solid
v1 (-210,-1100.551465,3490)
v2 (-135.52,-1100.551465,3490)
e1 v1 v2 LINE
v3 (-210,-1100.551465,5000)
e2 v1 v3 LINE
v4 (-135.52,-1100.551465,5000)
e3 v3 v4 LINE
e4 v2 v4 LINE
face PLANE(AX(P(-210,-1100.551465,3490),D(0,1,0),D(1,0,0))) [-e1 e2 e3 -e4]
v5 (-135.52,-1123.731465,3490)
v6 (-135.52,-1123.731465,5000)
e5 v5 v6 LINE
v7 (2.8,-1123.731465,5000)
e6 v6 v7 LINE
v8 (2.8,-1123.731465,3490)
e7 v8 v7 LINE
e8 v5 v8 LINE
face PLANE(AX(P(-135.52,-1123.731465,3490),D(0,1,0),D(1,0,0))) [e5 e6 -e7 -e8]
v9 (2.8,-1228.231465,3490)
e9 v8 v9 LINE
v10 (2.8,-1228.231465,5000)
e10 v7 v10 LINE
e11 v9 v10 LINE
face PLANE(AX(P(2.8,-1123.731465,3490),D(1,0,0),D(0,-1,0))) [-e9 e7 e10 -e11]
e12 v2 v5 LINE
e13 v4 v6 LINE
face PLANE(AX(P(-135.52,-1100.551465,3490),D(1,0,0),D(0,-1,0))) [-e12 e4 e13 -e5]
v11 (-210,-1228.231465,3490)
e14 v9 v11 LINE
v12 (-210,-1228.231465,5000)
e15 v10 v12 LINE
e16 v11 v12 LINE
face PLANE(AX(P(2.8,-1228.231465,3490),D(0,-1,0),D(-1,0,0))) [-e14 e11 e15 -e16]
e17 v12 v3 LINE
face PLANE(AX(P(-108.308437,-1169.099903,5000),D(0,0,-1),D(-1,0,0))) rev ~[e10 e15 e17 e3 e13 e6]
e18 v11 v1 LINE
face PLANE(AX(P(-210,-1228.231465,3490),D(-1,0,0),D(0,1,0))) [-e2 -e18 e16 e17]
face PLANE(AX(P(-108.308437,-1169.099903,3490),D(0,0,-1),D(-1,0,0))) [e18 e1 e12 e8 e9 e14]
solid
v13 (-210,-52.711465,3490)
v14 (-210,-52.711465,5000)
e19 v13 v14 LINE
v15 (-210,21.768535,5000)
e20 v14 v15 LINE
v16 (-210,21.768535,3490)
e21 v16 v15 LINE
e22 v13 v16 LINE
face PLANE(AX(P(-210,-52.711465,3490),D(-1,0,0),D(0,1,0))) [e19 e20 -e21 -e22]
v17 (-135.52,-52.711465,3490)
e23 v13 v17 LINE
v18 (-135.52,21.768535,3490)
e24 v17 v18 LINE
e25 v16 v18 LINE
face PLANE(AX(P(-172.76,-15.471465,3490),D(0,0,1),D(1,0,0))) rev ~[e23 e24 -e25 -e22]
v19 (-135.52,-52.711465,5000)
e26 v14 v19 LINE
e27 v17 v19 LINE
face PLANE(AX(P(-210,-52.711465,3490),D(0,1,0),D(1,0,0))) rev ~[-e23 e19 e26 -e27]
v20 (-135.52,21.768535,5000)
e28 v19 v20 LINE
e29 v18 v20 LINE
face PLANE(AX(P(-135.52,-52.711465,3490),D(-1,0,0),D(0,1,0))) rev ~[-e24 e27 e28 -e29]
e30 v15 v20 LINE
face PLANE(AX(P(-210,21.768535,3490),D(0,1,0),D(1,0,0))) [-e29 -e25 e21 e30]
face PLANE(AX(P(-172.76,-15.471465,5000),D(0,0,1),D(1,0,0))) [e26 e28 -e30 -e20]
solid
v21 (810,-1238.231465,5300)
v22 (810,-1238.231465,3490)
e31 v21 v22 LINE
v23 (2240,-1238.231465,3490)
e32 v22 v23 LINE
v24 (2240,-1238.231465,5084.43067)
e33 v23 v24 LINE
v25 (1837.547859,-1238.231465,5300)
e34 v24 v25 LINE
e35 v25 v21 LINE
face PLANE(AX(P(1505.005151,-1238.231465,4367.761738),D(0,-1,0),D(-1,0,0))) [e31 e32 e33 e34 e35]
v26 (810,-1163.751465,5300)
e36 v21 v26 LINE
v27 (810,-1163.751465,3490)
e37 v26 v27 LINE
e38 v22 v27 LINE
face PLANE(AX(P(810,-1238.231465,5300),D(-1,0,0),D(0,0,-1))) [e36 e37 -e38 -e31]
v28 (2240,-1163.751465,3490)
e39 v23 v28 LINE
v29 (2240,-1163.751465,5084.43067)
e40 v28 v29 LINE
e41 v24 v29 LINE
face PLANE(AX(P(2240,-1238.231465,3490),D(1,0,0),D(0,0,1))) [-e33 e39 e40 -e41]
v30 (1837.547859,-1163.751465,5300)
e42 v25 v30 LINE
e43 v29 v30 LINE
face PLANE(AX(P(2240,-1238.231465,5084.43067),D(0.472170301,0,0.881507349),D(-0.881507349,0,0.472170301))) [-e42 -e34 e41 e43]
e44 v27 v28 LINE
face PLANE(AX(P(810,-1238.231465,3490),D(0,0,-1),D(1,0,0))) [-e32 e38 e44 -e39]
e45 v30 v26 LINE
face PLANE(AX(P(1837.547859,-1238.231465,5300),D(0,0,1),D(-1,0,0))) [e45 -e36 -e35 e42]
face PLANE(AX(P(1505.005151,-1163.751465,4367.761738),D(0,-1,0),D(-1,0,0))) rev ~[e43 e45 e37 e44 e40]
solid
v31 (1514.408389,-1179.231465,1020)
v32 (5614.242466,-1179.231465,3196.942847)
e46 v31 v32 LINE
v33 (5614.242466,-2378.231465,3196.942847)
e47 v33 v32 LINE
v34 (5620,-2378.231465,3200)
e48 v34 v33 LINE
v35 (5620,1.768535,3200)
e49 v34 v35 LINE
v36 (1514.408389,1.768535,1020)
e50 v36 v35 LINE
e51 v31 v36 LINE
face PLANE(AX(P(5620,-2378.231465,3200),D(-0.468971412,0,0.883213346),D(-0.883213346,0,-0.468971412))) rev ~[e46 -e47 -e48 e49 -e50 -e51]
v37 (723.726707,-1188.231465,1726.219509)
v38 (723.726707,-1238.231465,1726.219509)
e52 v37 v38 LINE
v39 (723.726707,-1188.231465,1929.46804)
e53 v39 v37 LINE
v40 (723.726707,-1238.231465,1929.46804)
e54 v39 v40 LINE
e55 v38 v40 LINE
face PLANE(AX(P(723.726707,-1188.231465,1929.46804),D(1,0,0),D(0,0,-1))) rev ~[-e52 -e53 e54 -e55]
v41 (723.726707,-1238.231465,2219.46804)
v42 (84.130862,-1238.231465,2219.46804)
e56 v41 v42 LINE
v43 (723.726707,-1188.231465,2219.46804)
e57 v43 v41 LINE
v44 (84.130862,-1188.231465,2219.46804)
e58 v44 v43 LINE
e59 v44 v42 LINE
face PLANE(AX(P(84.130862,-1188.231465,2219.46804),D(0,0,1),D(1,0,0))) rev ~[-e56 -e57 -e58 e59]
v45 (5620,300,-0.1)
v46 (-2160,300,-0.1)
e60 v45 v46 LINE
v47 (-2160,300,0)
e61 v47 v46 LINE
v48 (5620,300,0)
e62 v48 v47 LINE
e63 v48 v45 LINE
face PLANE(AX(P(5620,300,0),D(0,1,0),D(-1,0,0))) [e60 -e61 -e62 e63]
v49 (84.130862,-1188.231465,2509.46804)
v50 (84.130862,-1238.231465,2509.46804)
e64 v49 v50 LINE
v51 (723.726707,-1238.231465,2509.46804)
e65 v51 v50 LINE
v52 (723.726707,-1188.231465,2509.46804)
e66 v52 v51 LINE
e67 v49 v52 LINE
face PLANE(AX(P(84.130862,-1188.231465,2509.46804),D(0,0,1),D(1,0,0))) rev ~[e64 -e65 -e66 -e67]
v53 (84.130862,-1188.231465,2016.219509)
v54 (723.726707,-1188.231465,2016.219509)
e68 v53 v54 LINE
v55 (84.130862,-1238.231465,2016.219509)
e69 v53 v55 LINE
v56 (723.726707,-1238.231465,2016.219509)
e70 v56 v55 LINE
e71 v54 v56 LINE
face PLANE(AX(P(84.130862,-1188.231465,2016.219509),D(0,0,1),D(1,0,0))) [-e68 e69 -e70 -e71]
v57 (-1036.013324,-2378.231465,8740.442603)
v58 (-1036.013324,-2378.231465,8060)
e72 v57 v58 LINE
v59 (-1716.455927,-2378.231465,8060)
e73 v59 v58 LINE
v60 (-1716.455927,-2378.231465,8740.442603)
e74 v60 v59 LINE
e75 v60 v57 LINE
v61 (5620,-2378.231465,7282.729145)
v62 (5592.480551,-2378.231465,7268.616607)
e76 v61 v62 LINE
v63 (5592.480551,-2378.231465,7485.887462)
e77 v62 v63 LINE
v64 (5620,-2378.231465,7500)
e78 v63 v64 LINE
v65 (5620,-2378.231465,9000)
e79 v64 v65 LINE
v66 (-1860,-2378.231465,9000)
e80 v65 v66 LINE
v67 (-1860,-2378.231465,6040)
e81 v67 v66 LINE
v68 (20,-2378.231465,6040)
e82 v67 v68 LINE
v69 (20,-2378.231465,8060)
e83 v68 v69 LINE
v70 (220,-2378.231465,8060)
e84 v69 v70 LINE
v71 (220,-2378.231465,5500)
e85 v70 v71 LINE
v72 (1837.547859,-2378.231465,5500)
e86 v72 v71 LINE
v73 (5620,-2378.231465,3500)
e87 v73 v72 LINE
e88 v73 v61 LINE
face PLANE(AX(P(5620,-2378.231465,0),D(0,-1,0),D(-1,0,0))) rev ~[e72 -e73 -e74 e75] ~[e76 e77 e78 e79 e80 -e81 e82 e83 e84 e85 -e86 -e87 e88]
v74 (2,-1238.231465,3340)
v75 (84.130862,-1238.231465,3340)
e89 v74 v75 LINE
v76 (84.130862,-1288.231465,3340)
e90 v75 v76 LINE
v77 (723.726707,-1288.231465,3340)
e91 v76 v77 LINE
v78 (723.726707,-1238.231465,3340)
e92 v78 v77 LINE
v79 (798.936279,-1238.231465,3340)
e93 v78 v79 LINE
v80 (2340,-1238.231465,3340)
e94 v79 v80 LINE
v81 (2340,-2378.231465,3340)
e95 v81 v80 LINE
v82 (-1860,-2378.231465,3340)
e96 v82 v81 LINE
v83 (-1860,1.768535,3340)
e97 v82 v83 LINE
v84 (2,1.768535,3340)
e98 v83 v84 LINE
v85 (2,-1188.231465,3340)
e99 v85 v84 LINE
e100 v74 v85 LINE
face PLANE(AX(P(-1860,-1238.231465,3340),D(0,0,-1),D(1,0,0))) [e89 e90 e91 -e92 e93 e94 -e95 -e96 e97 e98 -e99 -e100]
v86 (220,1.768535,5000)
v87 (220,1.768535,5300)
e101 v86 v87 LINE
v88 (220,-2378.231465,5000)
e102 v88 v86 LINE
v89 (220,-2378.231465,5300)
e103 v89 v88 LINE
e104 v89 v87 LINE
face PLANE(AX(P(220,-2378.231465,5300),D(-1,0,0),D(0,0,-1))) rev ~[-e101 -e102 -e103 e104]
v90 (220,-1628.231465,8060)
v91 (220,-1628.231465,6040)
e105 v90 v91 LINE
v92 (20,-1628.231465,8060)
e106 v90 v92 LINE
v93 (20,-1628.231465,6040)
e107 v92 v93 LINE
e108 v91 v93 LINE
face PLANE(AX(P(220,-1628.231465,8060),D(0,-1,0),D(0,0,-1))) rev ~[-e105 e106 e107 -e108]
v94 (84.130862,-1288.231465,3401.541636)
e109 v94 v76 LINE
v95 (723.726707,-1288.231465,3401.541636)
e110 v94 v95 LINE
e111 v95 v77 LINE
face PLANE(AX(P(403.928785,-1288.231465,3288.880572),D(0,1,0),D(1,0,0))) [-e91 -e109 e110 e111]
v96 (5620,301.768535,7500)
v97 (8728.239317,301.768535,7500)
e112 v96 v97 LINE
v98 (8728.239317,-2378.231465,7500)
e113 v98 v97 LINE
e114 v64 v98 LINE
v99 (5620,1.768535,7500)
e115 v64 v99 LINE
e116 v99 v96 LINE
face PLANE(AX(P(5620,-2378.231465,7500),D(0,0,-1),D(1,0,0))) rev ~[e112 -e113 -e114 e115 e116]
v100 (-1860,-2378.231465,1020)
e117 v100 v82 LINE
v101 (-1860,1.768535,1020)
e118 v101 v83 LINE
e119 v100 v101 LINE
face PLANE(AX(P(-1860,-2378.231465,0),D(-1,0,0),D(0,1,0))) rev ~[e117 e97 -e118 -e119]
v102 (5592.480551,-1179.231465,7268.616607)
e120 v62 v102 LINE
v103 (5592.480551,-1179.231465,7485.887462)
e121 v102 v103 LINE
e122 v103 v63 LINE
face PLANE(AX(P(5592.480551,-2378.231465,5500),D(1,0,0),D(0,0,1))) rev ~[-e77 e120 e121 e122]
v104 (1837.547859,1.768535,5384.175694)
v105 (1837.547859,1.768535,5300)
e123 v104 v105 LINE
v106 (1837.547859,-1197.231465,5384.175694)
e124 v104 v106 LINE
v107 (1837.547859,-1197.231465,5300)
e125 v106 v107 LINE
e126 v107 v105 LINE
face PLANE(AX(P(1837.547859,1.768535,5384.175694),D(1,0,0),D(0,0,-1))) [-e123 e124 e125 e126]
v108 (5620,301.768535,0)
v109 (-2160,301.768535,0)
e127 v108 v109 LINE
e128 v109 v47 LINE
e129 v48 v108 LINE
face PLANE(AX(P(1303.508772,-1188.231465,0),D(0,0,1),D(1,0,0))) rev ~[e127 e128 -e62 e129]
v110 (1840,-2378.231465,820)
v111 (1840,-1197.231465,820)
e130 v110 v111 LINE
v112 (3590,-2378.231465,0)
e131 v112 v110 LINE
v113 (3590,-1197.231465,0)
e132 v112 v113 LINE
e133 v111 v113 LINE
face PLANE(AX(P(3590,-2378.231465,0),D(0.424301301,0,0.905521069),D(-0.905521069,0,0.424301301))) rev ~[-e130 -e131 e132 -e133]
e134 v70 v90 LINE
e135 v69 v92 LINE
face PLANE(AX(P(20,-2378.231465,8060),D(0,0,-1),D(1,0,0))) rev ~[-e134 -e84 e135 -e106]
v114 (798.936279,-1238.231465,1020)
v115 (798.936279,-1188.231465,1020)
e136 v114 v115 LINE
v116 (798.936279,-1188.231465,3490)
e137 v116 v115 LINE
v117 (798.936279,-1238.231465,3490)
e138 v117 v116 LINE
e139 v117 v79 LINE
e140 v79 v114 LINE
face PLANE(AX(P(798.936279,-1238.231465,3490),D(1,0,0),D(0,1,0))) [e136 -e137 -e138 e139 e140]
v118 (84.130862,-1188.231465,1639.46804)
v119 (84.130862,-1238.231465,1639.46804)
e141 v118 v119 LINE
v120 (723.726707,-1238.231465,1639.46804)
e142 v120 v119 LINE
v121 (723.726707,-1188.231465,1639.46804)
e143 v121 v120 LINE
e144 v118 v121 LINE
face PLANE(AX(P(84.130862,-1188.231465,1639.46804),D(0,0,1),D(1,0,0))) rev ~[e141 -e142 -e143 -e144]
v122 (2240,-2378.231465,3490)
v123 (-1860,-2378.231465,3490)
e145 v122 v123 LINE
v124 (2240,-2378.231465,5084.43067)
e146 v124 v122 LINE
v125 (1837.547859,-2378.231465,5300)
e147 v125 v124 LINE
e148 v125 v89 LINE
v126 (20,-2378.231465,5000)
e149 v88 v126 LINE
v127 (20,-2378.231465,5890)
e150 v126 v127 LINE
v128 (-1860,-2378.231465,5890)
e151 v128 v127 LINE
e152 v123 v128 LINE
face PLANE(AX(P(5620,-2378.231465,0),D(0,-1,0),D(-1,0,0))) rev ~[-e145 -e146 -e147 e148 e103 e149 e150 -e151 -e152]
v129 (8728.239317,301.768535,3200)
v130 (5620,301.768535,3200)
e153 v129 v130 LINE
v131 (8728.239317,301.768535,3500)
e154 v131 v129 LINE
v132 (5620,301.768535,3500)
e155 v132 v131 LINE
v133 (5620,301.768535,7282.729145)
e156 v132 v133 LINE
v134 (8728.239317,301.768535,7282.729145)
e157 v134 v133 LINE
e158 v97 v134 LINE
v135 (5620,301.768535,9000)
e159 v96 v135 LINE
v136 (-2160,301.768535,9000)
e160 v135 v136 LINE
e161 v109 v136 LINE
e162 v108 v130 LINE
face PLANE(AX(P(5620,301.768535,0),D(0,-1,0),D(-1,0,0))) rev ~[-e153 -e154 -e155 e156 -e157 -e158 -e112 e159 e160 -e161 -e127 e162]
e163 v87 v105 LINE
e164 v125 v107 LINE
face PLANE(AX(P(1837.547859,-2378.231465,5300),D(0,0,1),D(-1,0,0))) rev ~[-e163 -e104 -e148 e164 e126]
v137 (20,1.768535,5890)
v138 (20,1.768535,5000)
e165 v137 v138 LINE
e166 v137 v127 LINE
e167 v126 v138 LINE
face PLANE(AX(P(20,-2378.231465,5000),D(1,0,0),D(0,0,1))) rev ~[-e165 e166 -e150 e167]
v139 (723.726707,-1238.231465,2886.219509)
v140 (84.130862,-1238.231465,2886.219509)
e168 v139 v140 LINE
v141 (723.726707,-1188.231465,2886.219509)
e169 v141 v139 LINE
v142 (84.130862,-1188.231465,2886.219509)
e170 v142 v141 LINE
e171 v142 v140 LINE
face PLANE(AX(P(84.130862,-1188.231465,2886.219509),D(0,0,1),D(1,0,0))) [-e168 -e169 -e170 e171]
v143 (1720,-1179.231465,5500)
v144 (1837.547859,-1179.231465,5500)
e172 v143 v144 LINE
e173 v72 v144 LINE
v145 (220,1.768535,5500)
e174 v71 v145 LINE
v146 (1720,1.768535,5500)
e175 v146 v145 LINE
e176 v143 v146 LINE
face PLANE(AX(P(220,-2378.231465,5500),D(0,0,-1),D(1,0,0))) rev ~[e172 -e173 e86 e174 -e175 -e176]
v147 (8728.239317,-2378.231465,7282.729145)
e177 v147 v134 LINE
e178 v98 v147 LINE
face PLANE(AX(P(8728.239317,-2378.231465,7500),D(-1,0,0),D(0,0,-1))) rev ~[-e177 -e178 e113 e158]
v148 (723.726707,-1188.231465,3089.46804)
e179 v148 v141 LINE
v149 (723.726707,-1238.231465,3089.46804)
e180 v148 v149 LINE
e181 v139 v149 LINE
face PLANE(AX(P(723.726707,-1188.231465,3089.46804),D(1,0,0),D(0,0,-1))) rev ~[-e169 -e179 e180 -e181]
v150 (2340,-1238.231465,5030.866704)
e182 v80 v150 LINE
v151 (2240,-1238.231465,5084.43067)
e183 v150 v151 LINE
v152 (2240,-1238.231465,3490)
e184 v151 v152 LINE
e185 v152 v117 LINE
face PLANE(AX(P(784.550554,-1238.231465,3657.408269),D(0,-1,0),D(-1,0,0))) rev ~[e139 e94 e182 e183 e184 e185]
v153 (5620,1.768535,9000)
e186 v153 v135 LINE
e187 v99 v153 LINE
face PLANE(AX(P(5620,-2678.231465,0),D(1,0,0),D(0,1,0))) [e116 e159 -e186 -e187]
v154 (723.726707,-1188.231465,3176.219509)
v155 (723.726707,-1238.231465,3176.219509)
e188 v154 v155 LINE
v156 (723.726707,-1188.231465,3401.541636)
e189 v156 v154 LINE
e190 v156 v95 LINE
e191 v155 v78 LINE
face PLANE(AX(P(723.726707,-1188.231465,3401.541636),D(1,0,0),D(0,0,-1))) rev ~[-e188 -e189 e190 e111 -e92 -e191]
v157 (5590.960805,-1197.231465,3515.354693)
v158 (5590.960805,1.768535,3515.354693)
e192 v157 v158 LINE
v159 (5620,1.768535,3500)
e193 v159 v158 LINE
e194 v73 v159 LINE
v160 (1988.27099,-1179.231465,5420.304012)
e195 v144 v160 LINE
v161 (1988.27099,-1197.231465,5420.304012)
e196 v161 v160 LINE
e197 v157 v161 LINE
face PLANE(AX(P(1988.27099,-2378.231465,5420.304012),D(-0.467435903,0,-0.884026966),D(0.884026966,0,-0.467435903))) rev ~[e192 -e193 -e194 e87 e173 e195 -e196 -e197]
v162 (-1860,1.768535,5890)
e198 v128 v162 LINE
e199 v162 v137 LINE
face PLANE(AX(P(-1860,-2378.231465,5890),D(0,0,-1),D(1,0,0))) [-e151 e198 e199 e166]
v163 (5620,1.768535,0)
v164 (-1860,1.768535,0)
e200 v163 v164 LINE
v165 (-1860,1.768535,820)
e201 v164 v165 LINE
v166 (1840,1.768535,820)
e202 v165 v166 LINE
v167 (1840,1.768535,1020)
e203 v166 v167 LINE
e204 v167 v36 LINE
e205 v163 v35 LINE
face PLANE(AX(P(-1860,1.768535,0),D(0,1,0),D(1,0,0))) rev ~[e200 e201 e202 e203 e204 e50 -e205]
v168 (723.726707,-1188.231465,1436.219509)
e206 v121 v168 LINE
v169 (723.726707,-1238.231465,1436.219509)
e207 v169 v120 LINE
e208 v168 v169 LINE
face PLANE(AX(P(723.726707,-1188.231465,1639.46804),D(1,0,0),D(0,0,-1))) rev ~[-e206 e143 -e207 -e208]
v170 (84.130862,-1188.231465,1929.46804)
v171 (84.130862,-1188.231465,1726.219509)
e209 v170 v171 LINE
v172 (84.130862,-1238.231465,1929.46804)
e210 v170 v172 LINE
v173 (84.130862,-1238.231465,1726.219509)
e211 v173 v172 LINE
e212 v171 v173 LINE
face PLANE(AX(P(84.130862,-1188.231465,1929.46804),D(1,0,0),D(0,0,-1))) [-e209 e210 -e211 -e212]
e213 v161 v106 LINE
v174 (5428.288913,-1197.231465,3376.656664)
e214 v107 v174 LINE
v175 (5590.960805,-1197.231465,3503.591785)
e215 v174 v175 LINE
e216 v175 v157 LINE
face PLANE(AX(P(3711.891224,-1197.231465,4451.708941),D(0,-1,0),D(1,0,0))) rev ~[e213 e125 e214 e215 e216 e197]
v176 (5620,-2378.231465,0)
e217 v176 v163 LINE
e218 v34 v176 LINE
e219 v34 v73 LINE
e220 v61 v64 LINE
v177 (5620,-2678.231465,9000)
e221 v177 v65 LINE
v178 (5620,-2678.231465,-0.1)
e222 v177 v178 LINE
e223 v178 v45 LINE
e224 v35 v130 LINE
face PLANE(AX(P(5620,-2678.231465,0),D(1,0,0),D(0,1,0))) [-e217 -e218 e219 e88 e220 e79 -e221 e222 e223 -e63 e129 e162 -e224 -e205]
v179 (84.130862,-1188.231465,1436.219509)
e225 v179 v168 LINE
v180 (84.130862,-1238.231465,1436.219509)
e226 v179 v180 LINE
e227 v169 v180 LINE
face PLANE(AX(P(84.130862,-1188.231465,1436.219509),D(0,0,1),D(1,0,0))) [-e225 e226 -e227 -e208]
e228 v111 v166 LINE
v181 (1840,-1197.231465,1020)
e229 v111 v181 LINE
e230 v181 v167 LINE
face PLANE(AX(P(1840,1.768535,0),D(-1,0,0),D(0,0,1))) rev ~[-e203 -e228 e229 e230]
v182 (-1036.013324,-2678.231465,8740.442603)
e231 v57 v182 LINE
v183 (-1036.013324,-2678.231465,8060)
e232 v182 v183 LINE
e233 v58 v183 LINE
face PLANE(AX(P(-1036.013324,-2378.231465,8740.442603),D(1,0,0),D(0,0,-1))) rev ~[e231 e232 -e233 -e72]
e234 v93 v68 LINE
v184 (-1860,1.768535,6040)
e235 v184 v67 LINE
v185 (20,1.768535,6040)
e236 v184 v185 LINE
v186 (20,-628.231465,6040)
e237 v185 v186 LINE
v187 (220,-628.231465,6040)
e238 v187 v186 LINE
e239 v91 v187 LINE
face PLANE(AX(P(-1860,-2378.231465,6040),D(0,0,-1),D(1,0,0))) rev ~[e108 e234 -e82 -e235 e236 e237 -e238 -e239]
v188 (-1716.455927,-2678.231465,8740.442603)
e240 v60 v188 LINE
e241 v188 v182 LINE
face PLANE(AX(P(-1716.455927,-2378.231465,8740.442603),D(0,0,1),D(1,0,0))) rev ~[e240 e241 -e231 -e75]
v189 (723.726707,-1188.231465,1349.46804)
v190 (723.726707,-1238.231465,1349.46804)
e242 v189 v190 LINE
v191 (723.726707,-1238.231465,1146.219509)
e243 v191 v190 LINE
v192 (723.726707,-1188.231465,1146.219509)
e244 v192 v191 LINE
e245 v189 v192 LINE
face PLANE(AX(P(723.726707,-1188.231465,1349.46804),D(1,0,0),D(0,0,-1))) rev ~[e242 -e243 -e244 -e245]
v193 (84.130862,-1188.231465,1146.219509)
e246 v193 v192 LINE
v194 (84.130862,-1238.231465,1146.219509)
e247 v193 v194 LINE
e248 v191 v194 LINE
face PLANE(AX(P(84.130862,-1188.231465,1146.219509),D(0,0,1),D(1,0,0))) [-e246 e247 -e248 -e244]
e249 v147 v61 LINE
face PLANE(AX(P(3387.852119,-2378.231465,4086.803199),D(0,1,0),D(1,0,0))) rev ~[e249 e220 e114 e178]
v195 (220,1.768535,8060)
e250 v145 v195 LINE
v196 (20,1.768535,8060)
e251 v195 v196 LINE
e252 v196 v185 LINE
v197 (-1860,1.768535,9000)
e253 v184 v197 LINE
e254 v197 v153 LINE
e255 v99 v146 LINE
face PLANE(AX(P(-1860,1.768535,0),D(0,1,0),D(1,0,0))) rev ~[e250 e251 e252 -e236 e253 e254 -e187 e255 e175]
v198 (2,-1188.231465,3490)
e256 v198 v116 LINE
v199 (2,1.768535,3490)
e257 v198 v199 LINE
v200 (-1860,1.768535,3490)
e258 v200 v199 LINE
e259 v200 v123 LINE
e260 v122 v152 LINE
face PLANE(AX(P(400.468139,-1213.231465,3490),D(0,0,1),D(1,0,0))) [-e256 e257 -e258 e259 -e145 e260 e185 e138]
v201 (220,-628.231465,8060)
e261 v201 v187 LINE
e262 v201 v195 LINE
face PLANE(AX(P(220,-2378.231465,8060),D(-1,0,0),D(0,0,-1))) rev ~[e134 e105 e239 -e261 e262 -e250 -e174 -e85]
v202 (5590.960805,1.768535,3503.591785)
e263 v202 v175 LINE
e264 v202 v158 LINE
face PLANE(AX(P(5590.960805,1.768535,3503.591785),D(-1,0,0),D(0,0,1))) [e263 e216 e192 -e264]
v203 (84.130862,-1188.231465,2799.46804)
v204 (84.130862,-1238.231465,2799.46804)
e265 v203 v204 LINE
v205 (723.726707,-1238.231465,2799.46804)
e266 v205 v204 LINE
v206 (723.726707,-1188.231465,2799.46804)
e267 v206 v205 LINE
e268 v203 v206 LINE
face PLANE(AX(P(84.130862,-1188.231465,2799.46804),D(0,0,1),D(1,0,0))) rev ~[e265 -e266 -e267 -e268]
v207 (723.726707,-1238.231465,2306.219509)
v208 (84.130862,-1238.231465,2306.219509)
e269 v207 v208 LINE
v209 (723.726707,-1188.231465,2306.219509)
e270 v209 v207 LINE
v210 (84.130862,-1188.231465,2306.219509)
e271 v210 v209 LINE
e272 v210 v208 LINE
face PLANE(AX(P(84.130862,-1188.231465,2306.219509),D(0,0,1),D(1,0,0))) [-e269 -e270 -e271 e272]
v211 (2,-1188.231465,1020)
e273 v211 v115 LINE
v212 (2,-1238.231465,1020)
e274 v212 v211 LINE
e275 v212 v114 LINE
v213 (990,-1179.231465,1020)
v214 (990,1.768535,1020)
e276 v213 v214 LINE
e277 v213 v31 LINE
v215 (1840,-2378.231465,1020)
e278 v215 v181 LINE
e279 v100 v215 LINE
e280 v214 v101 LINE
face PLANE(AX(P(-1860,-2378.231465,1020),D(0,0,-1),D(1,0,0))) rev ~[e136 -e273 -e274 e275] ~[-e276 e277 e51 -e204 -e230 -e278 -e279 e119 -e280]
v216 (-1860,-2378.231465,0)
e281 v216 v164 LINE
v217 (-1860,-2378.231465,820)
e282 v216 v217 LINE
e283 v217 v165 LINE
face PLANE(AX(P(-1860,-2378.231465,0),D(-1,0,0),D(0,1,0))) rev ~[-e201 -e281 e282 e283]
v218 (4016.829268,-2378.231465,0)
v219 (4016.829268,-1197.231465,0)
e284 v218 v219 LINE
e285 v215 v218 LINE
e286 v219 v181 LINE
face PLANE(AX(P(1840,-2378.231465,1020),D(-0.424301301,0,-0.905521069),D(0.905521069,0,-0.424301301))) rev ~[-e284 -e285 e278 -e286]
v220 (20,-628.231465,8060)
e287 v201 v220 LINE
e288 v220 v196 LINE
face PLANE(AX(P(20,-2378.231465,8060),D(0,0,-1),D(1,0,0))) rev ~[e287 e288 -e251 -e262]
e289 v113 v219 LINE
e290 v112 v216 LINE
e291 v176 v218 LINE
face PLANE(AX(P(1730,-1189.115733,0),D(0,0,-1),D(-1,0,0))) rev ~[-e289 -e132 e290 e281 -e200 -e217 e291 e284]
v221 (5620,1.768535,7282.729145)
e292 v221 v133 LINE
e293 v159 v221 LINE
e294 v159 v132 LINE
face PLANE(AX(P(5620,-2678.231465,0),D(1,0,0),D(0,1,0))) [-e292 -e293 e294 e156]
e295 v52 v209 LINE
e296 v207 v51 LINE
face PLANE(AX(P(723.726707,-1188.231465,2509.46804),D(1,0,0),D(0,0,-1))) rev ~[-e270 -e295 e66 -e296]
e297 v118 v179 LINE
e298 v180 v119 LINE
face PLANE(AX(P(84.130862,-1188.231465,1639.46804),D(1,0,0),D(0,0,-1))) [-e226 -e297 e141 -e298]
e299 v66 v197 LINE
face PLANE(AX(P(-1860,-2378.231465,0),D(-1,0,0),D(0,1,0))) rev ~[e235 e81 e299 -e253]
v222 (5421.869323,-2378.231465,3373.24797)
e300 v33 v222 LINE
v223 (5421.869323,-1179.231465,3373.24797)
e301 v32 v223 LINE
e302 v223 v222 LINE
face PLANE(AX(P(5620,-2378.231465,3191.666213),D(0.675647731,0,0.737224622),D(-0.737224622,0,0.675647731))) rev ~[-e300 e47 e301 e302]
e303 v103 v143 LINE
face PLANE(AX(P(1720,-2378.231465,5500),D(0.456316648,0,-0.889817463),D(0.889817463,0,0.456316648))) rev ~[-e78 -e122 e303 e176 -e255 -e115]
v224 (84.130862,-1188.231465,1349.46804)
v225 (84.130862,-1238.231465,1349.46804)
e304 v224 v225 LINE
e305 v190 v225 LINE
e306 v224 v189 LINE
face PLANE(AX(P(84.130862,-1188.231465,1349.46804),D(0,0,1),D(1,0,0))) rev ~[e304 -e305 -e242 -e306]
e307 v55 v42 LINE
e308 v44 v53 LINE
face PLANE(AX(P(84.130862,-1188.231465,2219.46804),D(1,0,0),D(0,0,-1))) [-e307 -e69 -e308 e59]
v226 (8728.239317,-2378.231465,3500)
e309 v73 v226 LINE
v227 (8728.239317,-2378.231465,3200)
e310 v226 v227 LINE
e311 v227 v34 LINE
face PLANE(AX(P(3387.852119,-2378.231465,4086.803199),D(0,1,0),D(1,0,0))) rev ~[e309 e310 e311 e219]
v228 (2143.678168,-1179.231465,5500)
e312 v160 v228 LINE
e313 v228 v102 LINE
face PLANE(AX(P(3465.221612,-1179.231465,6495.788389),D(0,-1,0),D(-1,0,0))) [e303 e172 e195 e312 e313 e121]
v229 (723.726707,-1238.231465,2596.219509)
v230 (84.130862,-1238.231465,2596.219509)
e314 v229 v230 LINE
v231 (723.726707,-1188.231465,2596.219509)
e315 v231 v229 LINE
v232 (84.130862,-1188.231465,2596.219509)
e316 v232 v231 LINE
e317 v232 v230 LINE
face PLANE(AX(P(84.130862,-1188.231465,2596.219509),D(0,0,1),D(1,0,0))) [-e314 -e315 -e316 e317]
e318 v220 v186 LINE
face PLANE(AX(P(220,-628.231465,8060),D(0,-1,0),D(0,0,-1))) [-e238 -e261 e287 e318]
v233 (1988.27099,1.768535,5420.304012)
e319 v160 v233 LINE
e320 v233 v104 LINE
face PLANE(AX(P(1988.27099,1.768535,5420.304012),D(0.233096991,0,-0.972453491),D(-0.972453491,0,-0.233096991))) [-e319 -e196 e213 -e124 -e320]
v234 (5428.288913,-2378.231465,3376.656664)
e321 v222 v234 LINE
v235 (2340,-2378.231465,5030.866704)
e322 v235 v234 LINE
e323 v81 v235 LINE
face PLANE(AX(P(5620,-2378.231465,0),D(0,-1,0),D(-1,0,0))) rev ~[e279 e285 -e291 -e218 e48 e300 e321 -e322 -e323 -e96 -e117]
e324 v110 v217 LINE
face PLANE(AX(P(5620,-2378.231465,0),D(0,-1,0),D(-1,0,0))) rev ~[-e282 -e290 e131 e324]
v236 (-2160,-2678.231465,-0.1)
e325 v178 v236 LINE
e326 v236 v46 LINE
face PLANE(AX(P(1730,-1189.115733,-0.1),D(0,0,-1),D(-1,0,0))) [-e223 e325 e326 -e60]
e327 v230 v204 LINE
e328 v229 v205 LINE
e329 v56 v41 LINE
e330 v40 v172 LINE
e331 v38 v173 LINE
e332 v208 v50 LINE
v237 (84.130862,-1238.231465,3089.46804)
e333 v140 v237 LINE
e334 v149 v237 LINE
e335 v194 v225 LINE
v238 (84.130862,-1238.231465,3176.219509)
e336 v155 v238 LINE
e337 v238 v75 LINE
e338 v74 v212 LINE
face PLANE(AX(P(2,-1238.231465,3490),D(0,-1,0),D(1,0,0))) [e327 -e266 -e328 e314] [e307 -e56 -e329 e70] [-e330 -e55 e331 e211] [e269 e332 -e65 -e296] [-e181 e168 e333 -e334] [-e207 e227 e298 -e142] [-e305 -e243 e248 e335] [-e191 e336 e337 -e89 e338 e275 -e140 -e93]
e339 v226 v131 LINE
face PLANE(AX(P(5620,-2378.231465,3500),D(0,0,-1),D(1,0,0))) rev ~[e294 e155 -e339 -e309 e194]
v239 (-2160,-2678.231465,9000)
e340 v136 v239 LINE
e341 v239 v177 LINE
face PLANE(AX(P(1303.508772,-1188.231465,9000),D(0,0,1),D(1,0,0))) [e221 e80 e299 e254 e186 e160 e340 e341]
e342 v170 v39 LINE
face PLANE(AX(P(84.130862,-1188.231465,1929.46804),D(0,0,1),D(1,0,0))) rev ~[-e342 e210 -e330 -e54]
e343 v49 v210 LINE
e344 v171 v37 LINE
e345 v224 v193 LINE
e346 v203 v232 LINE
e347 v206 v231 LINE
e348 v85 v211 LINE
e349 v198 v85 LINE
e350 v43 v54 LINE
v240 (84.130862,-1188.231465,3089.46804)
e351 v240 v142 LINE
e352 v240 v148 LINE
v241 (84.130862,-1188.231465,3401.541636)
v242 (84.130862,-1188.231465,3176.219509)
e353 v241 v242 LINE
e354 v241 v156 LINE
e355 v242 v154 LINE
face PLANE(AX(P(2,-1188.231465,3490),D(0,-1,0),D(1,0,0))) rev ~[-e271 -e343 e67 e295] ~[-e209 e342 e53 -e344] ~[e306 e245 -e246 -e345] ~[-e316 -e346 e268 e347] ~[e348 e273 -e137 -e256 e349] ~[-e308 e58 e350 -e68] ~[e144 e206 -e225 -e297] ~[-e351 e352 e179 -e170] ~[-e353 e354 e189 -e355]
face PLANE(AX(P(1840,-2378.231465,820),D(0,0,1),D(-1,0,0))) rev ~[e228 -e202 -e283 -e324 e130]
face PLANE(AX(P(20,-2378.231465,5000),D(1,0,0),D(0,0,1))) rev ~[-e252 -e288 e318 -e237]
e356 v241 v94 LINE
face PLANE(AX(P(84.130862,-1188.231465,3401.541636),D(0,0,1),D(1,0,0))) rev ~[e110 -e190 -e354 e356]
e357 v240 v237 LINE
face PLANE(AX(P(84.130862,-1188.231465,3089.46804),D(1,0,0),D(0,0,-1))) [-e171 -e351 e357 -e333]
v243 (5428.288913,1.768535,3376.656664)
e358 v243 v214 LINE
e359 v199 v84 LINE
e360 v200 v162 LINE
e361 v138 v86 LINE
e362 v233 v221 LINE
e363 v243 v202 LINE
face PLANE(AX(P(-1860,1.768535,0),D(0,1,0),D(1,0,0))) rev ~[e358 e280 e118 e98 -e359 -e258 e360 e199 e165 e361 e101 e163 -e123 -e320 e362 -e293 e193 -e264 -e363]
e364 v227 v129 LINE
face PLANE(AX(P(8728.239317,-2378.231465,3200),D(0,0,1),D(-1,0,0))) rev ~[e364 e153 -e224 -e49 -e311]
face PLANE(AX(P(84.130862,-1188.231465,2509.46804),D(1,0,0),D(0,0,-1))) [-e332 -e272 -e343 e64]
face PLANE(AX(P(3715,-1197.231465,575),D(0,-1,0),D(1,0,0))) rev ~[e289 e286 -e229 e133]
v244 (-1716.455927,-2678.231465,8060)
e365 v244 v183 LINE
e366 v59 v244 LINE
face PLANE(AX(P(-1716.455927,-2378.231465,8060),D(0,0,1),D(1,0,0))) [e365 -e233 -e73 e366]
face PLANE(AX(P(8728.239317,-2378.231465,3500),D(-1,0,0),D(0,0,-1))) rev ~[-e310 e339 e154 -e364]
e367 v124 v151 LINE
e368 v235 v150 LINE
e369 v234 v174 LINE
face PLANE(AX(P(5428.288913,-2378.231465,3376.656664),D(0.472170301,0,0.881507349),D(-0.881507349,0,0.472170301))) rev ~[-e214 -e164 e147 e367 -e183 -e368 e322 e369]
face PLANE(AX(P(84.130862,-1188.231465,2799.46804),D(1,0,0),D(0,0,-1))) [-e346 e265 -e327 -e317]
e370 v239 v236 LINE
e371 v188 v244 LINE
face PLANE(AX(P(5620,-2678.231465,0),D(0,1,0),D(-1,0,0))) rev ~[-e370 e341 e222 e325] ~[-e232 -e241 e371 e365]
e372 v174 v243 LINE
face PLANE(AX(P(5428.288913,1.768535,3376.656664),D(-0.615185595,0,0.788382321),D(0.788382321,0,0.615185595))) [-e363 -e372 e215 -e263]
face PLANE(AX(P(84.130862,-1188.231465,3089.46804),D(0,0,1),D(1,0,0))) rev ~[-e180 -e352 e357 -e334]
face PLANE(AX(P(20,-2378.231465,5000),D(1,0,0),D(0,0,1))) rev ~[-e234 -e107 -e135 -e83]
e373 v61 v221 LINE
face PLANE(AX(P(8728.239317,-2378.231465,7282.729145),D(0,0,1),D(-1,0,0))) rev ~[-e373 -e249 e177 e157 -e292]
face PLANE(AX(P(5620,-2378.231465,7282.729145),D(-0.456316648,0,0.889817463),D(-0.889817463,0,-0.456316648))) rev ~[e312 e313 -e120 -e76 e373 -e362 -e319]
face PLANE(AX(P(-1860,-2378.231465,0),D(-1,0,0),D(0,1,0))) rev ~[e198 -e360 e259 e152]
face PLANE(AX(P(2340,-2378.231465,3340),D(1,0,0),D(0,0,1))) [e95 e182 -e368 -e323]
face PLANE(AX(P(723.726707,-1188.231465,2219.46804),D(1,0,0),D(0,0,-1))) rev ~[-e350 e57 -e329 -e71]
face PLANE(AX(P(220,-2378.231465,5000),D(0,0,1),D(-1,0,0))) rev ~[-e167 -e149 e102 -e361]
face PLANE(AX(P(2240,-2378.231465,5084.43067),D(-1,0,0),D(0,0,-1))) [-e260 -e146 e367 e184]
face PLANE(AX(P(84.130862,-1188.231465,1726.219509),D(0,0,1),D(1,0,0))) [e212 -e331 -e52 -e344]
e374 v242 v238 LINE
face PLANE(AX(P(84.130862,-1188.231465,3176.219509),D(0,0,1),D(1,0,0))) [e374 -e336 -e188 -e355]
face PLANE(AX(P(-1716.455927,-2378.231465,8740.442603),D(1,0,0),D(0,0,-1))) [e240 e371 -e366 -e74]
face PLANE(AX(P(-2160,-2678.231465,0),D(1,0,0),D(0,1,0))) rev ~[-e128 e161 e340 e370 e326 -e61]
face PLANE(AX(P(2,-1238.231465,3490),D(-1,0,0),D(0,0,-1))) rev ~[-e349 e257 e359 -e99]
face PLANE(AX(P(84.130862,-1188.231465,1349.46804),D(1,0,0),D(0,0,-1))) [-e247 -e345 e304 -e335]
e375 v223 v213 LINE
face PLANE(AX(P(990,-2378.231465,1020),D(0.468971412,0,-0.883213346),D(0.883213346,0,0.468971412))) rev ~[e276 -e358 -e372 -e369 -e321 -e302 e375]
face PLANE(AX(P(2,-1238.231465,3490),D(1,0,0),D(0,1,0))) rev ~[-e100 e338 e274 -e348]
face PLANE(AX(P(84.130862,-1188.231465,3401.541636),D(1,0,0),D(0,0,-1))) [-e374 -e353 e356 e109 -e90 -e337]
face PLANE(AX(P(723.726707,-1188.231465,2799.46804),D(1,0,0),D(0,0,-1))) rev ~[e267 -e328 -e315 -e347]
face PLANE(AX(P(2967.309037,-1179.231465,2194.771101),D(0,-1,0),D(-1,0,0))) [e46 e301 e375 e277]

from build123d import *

# Parameters (mm, degrees)
BOSS_EXTRUDE1_DEPTH   = 9000
SKETCH2_W             = 7780
SKETCH2_H             = 2978.231465283
BOSS_EXTRUDE2_DEPTH   = 0.1
SKETCH4_W             = 680.442603136
SKETCH4_H             = 680.442603136
CUT_EXTRUDE1_DEPTH    = 301
BOSS_EXTRUDE3_DEPTH   = 2680
SKETCH11_W            = 3750
SKETCH11_H            = 1150
CUT_EXTRUDE10_DEPTH   = 1199
CUT_EXTRUDE16_DEPTH   = 1199
CUT_EXTRUDE19_DEPTH   = 1199
SKETCH15_W            = 1880
SKETCH15_H            = 150
BOSS_EXTRUDE4_DEPTH   = 1140
BOSS_EXTRUDE5_REACH   = 2682
SKETCH15_2_W          = 1880
SKETCH15_2_H          = 150
BOSS_EXTRUDE6_REACH   = 1542
SKETCH16_W            = 1862
SKETCH16_H            = 150
SKETCH17_W            = 796.936278508
SKETCH17_H            = 50
BOSS_EXTRUDE7_DEPTH   = 2470
SKETCH18_W            = 639.595844291
SKETCH18_H            = 225.322127185
SKETCH18_H_2          = 203.248531495
CUT_EXTRUDE21_DEPTH   = 100
SKETCH19_W            = 74.48
SKETCH19_H            = 74.48
BOSS_EXTRUDE8_DEPTH   = 1510
BOSS_EXTRUDE8_2_DEPTH = 1510
BOSS_EXTRUDE9_DEPTH   = 74.48
SKETCH22_W            = 2020
SKETCH22_H            = 1000
CUT_EXTRUDE22_DEPTH   = 597


with BuildPart() as part:
    # Sketch1 → Boss-Extrude1 (new body)
    with BuildSketch(Plane.XY):
        Polygon((5620, 1.768534717), (5620, 301.768534717), (-2160, 301.768534717), (-2160, -2678.231465283), (5620, -2678.231465283), (5620, -2378.231465283), (50, -2378.231465283), (-1860, -2378.231465283), (-1860, 1.768534717), (-250, 1.768534717), align=None)
    extrude(amount=BOSS_EXTRUDE1_DEPTH)

    # Sketch2 → Boss-Extrude2 (add)
    with BuildSketch(Plane(origin=(0, 0, 0), x_dir=(-1, 0, 0), z_dir=(0, 0, -1))):
        with Locations((-1730, -1189.115732642)):
            Rectangle(SKETCH2_W, SKETCH2_H)
    extrude(amount=BOSS_EXTRUDE2_DEPTH)

    # Sketch4 → Cut-Extrude1 (cut, through all)
    with BuildSketch(Plane(origin=(0, -2378.231465283, 0), x_dir=(1, 0, 0), z_dir=(0, 1, 0))):
        with Locations((-1376.234625342, -8400.221301568)):
            Rectangle(SKETCH4_W, SKETCH4_H)
    extrude(amount=-CUT_EXTRUDE1_DEPTH, mode=Mode.SUBTRACT)

    # Sketch4<9> → Boss-Extrude3 (add, through all)
    with BuildSketch(Plane(origin=(0, -2378.231465283, 0), x_dir=(1, 0, 0), z_dir=(0, 1, 0))):
        Polygon((-1860, -820), (-1860, -1020), (990, -1020), (5428.28891254, -3376.656663831), (1837.547859336, -5300), (220, -5300), (220, -5000), (20, -5000), (20, -8060), (220, -8060), (220, -5500), (1720, -5500), (5620, -7500), (8728.239316984, -7500), (8728.239316984, -7282.729144798), (5620, -7282.729144798), (1988.270990282, -5420.304011609), (5620, -3500), (8728.239316984, -3500), (8728.239316984, -3200), (5620, -3200), (1514.40838887, -1020), (1840, -1020), (4016.829268293, 0), (3590, 0), (1840, -820), align=None)
    extrude(amount=BOSS_EXTRUDE3_DEPTH)

    # Sketch11 → Cut-Extrude10 (cut)
    with BuildSketch(Plane.XZ.offset(-1.768534717)):
        with Locations((3715, 575)):
            Rectangle(SKETCH11_W, SKETCH11_H)
        Polygon((1837.547859336, 5300), (1837.547859336, 3630), (4743.976621723, 3630), (5428.28891254, 3376.656663831), (5590.960805155, 3503.591784624), (5590.960805155, 5232.391121441), (3118.319216172, 5232.391121441), (3118.319216172, 5420.304011609), (1988.270990282, 5420.304011609), (1837.547859336, 5384.175694281), align=None)
    extrude(amount=CUT_EXTRUDE10_DEPTH, mode=Mode.SUBTRACT)

    # Sketch13 → Cut-Extrude16 (cut)
    with BuildSketch(Plane(origin=(0, -2378.231465283, 0), x_dir=(1, 0, 0), z_dir=(0, 1, 0))):
        Polygon((357.775791901, -1020), (5620, -1020), (5620, -3191.666212547), (5403.889674001, -3389.725863798), (357.775791901, -3389.725863798), align=None)
    extrude(amount=CUT_EXTRUDE16_DEPTH, mode=Mode.SUBTRACT)

    # Sketch14 → Cut-Extrude19 (cut)
    with BuildSketch(Plane(origin=(0, -2378.231465283, 0), x_dir=(1, 0, 0), z_dir=(0, 1, 0))):
        Polygon((1347.188843085, -5500), (1837.547859336, -5500), (1988.270990282, -5420.304011609), (2143.678167645, -5500), (5592.480550887, -5500), (5592.480550887, -7500), (1347.188843085, -7500), align=None)
    extrude(amount=CUT_EXTRUDE19_DEPTH, mode=Mode.SUBTRACT)

    # Sketch15 → Boss-Extrude4 (add)
    with BuildSketch(Plane(origin=(0, -2378.231465283, 0), x_dir=(1, 0, 0), z_dir=(0, 1, 0))):
        Polygon((2240, -5084.430670047), (2240, -3490), (-1860, -3490), (-1860, -3340), (2340, -3340), (2340, -5030.86670351), align=None)
        with Locations((-920, -5965)):
            Rectangle(SKETCH15_W, SKETCH15_H)
    extrude(amount=BOSS_EXTRUDE4_DEPTH)

    # Sketch15<2> → Boss-Extrude5 (add, up to next)
    with BuildSketch(Plane(origin=(0, -2378.231465283, 0), x_dir=(1, 0, 0), z_dir=(0, 1, 0)), mode=Mode.PRIVATE) as boss_extrude5_sk1:
        with Locations((-920, -5965)):
            Rectangle(SKETCH15_2_W, SKETCH15_2_H)
    boss_extrude5_tool1 = extrude(boss_extrude5_sk1.sketch, amount=BOSS_EXTRUDE5_REACH, mode=Mode.PRIVATE) - part.part
    add(boss_extrude5_tool1.solids().sort_by_distance((-920, -2378.231465, 5965))[0])

    # Sketch16 → Boss-Extrude6 (add, up to next)
    with BuildSketch(Plane(origin=(0, -1238.231465283, 0), x_dir=(1, 0, 0), z_dir=(0, 1, 0)), mode=Mode.PRIVATE) as boss_extrude6_sk1:
        with Locations((-929, -3415)):
            Rectangle(SKETCH16_W, SKETCH16_H)
    boss_extrude6_tool1 = extrude(boss_extrude6_sk1.sketch, amount=BOSS_EXTRUDE6_REACH, mode=Mode.PRIVATE) - part.part
    add(boss_extrude6_tool1.solids().sort_by_distance((-929, -1238.231465, 3415))[0])

    # Sketch17 → Boss-Extrude7 (add)
    with BuildSketch(Plane.XY.offset(3490)):
        with Locations((400.468139254, -1213.231465283)):
            Rectangle(SKETCH17_W, SKETCH17_H)
    extrude(amount=-BOSS_EXTRUDE7_DEPTH)

    # Sketch18 → Cut-Extrude21 (cut)
    with BuildSketch(Plane(origin=(0, -1188.231465283, 0), x_dir=(1, 0, 0), z_dir=(0, 1, 0))):
        with Locations((403.928784528, -3288.880572499)):
            Rectangle(SKETCH18_W, SKETCH18_H)
        with Locations((403.928784528, -1827.843774654)):
            Rectangle(SKETCH18_W, SKETCH18_H_2)
        with Locations((403.928784528, -2117.843774654)):
            Rectangle(SKETCH18_W, SKETCH18_H_2)
        with Locations((403.928784528, -2407.843774654)):
            Rectangle(SKETCH18_W, SKETCH18_H_2)
        with Locations((403.928784528, -2697.843774654)):
            Rectangle(SKETCH18_W, SKETCH18_H_2)
        with Locations((403.928784528, -2987.843774654)):
            Rectangle(SKETCH18_W, SKETCH18_H_2)
        with Locations((403.928784528, -1537.843774654)):
            Rectangle(SKETCH18_W, SKETCH18_H_2)
        with Locations((403.928784528, -1247.843774654)):
            Rectangle(SKETCH18_W, SKETCH18_H_2)
    extrude(amount=-CUT_EXTRUDE21_DEPTH, mode=Mode.SUBTRACT)

    # Sketch22 → Cut-Extrude22 (cut)
    with BuildSketch(Plane(origin=(220, 0, 0), x_dir=(0, 0, -1), z_dir=(1, 0, 0))):
        with Locations((-7050, -1128.231465283)):
            Rectangle(SKETCH22_W, SKETCH22_H)
    extrude(amount=-CUT_EXTRUDE22_DEPTH, mode=Mode.SUBTRACT)


with BuildPart() as body_2:
    # Sketch19 → Boss-Extrude8 (new body)
    with BuildSketch(Plane.XY.offset(3490)):
        with Locations((-172.76, -15.471465283)):
            Rectangle(SKETCH19_W, SKETCH19_H)
    extrude(amount=BOSS_EXTRUDE8_DEPTH)


with BuildPart() as body_3:
    # Sketch19 → Boss-Extrude8 2 (new body)
    with BuildSketch(Plane.XY.offset(3490)):
        Polygon((-135.52, -1123.731465283), (2.8, -1123.731465283), (2.8, -1228.231465283), (-210, -1228.231465283), (-210, -1100.551465283), (-135.52, -1100.551465283), align=None)
    extrude(amount=BOSS_EXTRUDE8_2_DEPTH)


with BuildPart() as body_4:
    # Sketch21 → Boss-Extrude9 (new body)
    with BuildSketch(Plane(origin=(0, -1238.231465283, 0), x_dir=(1, 0, 0), z_dir=(0, 1, 0))):
        Polygon((810, -3490), (2240, -3490), (2240, -5084.430670047), (1837.547859336, -5300), (810, -5300), align=None)
    extrude(amount=BOSS_EXTRUDE9_DEPTH)


solid = Compound([part.part, body_2.part, body_3.part, body_4.part])
